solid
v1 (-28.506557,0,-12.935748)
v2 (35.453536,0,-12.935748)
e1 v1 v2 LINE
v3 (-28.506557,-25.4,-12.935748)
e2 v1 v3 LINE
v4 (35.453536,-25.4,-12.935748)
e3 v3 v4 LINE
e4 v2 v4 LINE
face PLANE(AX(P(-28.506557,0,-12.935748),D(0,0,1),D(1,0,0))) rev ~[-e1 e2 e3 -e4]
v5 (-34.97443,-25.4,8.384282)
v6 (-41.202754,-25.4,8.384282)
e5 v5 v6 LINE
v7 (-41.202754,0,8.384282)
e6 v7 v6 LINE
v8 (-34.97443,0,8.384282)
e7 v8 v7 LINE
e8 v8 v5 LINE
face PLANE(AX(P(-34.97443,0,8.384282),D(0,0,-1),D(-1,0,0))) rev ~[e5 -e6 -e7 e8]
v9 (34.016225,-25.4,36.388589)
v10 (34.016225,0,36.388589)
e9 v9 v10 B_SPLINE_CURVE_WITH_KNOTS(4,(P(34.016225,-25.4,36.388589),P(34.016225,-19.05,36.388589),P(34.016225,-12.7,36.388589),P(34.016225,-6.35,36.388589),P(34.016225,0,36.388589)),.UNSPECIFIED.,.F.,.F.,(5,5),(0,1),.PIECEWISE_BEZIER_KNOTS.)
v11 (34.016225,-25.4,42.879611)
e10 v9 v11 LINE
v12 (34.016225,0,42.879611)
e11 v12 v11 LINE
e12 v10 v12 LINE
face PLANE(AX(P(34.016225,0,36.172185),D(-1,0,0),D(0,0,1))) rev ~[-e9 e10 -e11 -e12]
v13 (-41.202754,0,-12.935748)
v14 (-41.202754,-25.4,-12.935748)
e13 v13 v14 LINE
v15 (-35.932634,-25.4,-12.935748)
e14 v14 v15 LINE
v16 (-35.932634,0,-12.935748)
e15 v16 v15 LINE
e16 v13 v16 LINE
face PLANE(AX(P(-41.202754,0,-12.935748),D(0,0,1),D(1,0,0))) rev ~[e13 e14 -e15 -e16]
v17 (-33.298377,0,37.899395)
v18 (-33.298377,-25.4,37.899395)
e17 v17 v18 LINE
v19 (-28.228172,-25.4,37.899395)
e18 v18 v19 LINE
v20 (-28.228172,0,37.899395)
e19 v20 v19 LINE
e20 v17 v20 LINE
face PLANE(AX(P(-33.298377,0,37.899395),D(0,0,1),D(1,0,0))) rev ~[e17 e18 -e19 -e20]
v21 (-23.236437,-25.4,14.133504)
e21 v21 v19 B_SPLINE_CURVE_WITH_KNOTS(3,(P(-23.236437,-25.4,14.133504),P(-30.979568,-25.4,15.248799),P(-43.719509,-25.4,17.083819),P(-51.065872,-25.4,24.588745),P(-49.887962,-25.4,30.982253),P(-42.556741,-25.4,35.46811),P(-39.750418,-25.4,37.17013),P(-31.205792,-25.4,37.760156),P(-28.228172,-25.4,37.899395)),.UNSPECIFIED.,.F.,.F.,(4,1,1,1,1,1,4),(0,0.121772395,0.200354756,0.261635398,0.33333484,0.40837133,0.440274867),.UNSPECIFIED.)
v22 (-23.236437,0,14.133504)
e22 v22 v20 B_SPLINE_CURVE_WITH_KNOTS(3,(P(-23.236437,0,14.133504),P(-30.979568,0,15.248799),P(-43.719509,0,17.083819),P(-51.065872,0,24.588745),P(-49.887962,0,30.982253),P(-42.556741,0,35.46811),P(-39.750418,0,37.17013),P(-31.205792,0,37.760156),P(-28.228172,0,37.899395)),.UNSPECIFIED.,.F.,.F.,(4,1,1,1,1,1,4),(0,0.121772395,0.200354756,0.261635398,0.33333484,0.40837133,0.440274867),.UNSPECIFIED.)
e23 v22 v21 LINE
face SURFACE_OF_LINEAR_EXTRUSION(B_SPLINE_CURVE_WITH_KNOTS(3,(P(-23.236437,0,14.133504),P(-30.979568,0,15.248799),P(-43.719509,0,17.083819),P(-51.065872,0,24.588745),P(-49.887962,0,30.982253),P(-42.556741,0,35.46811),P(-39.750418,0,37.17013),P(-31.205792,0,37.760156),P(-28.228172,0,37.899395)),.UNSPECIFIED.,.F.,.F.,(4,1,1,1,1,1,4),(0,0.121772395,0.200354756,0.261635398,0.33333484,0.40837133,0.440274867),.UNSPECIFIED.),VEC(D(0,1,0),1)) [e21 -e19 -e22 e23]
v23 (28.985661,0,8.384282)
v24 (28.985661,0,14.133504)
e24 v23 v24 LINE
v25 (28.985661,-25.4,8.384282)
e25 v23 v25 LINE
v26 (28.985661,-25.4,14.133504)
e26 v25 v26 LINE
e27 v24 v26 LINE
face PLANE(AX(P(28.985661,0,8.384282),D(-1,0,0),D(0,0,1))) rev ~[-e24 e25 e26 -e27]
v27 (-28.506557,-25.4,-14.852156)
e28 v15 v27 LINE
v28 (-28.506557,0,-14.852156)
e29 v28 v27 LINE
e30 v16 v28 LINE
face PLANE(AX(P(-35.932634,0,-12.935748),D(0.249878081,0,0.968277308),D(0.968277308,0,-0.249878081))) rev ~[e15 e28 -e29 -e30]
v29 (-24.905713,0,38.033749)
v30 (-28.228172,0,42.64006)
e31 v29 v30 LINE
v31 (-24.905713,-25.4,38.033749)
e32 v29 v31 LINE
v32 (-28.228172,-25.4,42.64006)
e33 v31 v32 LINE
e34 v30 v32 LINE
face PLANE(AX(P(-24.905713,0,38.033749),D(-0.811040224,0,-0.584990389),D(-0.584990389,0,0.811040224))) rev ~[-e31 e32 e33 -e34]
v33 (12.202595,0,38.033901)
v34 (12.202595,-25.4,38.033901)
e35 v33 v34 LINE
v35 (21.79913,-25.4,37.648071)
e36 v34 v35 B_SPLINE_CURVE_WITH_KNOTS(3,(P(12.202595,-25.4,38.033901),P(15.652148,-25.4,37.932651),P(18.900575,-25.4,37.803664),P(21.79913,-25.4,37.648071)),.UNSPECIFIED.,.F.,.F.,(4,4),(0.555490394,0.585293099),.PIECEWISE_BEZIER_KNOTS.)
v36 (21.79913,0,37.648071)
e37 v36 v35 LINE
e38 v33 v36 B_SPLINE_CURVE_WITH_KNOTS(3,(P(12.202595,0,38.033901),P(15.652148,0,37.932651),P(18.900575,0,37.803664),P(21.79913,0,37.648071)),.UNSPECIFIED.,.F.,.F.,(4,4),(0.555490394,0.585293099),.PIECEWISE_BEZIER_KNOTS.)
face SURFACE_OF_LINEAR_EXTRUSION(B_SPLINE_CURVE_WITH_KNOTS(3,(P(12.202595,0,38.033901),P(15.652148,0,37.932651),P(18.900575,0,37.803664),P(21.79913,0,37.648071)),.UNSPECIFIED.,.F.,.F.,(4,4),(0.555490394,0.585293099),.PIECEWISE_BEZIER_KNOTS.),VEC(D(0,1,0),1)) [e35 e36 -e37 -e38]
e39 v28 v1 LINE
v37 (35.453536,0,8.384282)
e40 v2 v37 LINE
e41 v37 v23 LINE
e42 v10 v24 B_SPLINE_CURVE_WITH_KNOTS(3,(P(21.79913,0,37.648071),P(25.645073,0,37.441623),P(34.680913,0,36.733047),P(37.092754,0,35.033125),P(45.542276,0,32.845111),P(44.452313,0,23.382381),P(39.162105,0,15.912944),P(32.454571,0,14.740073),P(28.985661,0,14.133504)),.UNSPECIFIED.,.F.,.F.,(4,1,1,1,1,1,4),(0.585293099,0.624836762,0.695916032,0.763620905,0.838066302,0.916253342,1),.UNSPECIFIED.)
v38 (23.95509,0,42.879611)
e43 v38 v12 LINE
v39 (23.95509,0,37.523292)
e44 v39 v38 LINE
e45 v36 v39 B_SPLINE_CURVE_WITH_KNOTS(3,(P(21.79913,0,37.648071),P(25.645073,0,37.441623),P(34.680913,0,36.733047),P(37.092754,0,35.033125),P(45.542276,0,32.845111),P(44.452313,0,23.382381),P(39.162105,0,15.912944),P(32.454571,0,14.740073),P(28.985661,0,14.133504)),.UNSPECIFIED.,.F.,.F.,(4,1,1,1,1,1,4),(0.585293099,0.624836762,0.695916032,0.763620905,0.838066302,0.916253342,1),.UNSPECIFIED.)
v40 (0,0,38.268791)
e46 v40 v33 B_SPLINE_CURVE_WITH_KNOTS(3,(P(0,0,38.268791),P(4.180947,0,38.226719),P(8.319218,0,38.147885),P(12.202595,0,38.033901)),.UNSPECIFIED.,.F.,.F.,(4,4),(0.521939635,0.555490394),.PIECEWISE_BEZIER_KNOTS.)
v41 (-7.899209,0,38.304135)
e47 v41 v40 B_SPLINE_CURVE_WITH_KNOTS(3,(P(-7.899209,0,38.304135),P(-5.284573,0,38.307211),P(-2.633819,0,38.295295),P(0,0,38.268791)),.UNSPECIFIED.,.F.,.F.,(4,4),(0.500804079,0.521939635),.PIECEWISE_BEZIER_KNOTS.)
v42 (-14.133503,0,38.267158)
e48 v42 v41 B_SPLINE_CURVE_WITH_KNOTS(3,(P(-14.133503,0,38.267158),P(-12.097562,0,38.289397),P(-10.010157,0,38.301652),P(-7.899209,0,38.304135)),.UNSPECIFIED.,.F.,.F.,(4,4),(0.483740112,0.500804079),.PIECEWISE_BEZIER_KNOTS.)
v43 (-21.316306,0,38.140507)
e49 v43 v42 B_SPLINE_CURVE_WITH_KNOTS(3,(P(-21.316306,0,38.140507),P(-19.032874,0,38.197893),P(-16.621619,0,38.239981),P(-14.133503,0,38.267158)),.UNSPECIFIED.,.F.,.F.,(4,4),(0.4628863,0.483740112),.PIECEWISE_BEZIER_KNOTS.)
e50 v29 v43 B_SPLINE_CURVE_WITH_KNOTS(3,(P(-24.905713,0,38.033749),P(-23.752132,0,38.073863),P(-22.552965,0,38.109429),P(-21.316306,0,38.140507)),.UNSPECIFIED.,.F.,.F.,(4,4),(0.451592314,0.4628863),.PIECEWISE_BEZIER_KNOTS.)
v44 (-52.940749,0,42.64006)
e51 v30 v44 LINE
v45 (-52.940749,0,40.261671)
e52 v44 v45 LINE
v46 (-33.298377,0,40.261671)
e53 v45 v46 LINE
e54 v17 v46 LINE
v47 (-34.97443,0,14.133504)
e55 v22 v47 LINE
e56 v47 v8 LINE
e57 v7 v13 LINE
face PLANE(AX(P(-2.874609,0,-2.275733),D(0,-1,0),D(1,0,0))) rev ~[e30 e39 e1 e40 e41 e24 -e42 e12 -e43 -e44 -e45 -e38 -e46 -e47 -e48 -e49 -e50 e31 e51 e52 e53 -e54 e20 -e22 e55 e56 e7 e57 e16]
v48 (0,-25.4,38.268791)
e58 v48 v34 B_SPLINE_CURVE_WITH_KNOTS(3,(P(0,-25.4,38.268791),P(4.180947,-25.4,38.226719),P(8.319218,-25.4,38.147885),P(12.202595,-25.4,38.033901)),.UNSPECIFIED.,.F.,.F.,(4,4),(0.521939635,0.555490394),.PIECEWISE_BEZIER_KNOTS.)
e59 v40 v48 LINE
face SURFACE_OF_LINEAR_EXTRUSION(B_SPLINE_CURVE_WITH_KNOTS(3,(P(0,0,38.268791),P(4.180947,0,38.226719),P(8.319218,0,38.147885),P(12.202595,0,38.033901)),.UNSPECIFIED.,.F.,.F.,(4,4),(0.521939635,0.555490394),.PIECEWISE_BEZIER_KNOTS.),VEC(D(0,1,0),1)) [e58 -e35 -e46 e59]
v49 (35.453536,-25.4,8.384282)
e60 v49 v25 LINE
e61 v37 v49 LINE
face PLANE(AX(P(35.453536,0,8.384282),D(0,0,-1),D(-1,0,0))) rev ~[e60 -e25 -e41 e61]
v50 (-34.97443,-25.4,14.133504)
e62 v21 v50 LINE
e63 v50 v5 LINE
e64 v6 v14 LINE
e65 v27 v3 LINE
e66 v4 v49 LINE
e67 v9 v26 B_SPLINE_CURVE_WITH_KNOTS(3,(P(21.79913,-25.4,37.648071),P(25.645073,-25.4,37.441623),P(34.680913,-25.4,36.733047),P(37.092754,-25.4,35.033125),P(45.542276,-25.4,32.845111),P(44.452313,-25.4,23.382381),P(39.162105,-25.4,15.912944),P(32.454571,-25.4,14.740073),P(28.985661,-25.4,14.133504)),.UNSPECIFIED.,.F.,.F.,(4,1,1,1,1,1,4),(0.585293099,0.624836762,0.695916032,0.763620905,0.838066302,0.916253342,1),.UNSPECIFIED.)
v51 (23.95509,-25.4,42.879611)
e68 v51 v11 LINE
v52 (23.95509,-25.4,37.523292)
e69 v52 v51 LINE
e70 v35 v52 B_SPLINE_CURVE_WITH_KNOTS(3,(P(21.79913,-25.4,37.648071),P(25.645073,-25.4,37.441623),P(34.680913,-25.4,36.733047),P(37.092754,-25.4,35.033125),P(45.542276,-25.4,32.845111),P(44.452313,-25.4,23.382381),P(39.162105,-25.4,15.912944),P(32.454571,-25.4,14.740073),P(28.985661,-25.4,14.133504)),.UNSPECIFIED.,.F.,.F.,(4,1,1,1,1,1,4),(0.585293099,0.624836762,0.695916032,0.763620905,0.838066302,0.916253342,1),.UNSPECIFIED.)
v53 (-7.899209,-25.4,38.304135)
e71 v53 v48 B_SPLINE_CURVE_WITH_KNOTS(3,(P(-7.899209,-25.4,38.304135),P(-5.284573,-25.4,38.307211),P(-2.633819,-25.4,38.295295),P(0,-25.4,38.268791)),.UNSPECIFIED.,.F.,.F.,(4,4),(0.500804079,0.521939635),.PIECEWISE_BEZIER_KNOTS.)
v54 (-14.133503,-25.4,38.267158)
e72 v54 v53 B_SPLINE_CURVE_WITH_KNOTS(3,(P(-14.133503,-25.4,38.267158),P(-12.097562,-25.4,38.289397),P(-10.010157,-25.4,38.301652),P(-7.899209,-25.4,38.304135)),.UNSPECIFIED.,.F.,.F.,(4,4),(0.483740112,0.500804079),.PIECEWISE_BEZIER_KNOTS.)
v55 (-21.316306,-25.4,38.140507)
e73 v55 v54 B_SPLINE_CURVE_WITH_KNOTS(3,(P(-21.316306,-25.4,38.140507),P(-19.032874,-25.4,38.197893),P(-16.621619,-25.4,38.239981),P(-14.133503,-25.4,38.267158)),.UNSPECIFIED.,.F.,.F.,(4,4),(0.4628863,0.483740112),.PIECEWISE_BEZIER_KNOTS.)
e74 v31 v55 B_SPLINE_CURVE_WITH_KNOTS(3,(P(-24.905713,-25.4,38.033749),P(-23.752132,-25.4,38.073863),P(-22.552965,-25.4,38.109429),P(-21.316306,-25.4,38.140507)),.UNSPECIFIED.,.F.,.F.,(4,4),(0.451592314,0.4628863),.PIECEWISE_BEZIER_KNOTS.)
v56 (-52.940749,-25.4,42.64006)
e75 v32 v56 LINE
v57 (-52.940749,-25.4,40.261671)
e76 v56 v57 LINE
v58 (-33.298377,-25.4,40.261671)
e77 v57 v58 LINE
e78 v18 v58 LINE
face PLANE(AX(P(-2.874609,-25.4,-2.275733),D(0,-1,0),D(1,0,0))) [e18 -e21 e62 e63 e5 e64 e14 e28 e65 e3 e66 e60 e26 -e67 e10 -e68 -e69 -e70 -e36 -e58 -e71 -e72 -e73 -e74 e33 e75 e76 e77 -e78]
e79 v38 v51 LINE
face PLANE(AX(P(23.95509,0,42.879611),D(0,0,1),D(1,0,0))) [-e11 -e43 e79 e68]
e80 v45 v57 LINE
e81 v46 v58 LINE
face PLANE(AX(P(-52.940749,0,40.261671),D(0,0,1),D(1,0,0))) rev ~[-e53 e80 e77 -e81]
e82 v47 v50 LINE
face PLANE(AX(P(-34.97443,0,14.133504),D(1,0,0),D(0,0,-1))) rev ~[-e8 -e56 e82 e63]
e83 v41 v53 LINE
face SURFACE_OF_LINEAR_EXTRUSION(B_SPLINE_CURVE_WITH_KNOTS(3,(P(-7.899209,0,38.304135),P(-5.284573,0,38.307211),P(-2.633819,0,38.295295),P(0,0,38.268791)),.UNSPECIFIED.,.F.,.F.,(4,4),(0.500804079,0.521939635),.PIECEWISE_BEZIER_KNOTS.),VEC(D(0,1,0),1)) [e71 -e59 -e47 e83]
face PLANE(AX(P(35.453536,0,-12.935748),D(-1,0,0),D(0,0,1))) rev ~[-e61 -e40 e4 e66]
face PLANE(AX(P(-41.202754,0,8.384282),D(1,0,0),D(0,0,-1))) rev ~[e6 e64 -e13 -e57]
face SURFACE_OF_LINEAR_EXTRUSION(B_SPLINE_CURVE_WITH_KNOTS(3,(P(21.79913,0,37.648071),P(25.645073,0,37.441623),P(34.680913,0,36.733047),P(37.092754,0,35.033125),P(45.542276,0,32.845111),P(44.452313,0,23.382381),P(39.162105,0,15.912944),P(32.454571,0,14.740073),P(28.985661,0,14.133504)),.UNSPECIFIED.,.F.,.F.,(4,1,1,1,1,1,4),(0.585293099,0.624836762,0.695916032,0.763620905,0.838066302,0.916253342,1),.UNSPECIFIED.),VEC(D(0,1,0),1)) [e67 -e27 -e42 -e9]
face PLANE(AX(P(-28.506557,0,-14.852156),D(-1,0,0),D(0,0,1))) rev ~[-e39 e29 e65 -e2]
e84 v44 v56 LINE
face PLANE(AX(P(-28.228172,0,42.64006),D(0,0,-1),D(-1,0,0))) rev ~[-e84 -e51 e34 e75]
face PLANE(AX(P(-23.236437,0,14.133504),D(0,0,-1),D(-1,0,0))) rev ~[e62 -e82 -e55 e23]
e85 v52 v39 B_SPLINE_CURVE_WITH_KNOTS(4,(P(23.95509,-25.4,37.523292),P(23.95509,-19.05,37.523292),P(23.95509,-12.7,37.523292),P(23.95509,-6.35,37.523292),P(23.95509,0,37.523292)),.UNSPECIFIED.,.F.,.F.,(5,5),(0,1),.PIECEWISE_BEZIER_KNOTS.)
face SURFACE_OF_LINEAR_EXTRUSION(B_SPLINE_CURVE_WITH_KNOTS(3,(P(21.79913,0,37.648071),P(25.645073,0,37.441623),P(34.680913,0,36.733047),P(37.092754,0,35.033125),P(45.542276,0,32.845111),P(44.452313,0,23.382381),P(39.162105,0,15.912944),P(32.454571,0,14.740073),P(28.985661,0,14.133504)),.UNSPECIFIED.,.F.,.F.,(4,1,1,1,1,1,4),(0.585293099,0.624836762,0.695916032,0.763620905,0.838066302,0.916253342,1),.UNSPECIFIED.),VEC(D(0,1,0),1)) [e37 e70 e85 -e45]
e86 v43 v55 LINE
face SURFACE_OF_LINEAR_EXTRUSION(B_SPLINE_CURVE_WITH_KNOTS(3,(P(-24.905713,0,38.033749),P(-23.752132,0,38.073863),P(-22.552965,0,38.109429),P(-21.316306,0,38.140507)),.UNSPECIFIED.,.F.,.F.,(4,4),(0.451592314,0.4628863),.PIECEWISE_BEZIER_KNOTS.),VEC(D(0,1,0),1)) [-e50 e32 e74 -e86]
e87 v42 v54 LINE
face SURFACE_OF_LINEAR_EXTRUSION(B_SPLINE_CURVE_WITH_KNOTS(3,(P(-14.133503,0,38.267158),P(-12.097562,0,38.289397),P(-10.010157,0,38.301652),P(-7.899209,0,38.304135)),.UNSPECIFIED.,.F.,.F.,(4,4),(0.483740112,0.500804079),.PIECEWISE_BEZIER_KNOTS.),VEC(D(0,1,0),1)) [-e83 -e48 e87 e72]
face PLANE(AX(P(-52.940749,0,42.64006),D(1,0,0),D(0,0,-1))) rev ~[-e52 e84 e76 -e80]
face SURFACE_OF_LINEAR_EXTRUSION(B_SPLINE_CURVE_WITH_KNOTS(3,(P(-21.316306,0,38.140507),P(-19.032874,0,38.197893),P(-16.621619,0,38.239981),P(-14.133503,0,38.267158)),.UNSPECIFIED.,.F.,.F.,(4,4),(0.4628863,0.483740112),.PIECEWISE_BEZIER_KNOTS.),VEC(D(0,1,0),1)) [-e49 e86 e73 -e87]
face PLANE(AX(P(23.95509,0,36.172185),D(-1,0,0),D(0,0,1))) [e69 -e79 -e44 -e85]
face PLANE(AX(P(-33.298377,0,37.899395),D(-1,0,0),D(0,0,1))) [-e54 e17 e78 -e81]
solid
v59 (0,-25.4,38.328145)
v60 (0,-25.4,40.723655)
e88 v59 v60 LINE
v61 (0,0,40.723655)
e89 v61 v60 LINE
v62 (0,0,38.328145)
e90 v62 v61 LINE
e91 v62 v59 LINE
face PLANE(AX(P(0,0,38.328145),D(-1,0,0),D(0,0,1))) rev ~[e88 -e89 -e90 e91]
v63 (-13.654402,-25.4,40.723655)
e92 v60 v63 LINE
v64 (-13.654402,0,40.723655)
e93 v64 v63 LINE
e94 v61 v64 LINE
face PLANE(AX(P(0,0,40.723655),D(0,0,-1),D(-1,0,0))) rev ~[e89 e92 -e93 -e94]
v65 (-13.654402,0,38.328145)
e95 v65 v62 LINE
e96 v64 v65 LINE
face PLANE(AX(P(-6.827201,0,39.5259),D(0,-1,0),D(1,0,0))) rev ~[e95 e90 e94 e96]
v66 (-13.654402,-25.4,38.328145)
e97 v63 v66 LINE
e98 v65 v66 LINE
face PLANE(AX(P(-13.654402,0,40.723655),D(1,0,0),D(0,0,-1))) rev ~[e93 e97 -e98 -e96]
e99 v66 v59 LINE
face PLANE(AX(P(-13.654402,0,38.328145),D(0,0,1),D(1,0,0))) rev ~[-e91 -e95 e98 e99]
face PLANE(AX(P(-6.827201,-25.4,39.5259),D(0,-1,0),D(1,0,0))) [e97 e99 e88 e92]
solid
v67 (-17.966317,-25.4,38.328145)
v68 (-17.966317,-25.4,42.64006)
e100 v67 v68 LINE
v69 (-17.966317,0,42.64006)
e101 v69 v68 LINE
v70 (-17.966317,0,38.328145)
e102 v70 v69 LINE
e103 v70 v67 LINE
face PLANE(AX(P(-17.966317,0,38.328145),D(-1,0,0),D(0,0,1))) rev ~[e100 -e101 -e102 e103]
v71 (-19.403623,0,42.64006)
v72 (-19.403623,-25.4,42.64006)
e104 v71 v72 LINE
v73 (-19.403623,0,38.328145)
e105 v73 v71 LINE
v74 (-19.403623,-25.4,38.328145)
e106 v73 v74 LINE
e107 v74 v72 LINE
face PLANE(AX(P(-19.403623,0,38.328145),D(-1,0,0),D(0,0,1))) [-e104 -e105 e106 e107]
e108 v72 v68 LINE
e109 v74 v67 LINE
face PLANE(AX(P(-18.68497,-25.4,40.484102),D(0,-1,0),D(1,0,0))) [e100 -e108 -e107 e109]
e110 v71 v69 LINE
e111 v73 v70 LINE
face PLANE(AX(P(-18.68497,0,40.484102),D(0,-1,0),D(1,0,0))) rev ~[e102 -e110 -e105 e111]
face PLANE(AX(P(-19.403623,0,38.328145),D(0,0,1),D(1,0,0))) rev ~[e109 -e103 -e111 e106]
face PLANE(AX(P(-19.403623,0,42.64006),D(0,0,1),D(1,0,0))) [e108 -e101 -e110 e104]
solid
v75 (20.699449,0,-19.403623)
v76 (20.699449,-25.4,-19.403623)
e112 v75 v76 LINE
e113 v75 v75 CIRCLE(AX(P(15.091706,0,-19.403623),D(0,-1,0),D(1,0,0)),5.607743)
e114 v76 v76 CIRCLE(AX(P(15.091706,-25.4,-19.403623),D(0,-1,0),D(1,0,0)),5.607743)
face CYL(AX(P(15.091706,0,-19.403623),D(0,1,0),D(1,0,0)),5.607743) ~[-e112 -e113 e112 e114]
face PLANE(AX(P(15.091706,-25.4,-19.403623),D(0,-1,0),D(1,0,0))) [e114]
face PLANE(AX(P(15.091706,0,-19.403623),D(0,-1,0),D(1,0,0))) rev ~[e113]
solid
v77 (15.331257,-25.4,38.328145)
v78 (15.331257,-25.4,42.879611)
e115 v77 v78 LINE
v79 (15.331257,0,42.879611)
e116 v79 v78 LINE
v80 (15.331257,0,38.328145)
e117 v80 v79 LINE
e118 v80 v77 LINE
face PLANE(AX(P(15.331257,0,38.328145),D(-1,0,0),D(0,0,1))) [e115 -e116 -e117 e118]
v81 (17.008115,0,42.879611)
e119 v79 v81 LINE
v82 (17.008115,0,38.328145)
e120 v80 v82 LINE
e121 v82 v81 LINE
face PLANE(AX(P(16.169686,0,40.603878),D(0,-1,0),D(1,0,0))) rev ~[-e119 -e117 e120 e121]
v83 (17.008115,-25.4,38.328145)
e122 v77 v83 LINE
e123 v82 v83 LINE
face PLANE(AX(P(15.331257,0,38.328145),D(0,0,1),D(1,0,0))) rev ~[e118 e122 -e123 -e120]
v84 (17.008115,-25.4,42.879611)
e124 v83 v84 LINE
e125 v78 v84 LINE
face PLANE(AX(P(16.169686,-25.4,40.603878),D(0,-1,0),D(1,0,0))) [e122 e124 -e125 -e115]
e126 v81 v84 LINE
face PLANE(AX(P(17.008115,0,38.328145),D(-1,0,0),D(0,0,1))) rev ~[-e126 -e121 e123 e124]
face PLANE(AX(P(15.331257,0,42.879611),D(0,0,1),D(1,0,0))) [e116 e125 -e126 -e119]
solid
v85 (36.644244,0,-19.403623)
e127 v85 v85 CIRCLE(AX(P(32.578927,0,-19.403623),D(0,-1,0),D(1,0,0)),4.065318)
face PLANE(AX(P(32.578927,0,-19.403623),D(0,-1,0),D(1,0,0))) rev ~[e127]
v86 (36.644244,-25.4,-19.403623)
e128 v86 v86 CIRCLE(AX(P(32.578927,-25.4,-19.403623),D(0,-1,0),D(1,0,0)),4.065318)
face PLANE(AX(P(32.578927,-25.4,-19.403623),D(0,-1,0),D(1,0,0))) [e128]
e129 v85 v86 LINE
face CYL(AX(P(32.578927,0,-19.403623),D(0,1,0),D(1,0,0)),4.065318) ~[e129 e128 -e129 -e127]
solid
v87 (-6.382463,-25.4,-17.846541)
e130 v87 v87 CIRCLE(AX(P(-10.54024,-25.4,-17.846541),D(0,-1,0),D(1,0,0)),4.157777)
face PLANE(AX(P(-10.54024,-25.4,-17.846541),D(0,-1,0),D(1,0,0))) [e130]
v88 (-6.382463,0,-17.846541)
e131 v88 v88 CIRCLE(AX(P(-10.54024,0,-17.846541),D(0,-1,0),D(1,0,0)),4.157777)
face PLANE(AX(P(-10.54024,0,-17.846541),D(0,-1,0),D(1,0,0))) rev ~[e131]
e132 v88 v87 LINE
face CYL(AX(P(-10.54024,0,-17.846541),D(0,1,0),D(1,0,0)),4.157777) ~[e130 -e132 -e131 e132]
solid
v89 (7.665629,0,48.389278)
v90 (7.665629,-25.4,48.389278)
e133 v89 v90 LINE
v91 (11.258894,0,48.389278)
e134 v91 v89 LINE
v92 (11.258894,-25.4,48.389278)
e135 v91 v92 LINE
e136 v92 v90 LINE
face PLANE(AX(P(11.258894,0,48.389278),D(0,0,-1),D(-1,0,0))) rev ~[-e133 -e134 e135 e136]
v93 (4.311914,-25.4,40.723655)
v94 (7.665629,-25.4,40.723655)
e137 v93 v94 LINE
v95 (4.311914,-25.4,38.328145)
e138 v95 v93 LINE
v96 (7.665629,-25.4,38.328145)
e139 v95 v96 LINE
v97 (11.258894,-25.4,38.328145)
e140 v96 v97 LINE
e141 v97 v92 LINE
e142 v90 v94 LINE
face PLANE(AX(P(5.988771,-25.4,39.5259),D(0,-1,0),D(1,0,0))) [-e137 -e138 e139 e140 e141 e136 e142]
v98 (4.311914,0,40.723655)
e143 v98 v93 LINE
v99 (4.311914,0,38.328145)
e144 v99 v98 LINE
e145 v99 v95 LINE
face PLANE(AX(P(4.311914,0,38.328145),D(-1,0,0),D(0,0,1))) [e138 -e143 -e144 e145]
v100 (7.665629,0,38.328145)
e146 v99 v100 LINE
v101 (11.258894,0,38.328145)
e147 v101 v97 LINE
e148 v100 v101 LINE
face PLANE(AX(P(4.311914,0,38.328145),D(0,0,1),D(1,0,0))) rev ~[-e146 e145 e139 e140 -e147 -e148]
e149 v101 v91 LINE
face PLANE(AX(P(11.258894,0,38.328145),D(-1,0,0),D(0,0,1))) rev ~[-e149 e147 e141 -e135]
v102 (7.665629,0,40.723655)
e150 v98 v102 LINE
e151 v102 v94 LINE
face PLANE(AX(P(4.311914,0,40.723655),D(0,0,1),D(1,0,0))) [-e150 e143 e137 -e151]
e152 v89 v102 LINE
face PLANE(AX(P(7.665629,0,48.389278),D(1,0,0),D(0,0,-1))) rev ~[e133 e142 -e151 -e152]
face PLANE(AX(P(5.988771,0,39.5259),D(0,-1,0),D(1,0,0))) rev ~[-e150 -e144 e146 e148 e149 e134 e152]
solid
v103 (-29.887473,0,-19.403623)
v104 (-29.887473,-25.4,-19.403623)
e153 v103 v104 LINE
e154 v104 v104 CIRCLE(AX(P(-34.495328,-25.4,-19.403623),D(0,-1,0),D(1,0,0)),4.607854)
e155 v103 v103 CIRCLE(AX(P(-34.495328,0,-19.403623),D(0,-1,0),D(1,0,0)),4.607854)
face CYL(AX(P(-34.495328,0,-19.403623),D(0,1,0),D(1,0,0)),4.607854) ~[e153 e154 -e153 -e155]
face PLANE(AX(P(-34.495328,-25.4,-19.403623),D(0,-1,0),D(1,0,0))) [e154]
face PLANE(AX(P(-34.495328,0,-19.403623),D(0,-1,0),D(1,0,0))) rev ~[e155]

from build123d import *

# Parameters (mm, degrees)
F0_W     = 5.0702048653
F0_H     = 2.3622762329
F1_DEPTH = 25.4
F0_R     = 4.6078543136
F0_R_2   = 4.1577773218
F0_R_3   = 5.6077425758
F0_R_4   = 4.0653177371
F3_DEPTH = 25.4
F2_W     = 1.4373064041
F2_H     = 4.3119154871
F2_W_2   = 3.3537149429
F2_H_2   = 2.3955106735
F2_W_3   = 10.0611355156
F2_H_3   = 6.7074261606
F2_W_4   = 1.6768574715
F2_H_4   = 4.5514665544


with BuildPart() as f1:
    # F0 (on Front) → F1 (new body)
    with BuildSketch(Plane.XZ):
        Polygon((28.9856605232, -12.9357483238), (35.4535356164, -12.9357483238), (35.4535356164, 8.3842817694), (28.9856605232, 8.3842817694), (-34.9744297564, 8.3842817694), (-41.2027537823, 8.3842817694), (-41.2027537823, -12.9357483238), (-35.9326340258, -12.9357483238), (-28.5065565258, -12.9357483238), (-14.6126048639, -12.9357483238), (-6.4678736962, -12.9357483238), (9.8215863109, -12.9357483238), (19.4036252797, -12.9357483238), align=None)
        Polygon((-34.9744297564, 8.3842817694), (28.9856605232, 8.3842817694), (28.9856605232, 14.1335036606), (-23.2364367694, 14.1335036606), (-34.9744297564, 14.1335036606), align=None)
        with BuildLine():
            Line((-23.2364367694, 14.1335036606), (28.9856605232, 14.1335036606))
            add(Edge.make_bspline(
                [(21.7991303653, 37.6480714586), (25.6450727863, 37.4416232789), (34.6809133054, 36.7330473424), (37.0927539509, 35.0331252242), (45.5422763301, 32.8451114125), (44.452312866, 23.3823811536), (39.1621048566, 15.9129440703), (32.4545711571, 14.7400730632), (28.9856605232, 14.1335036606)],
                knots=[0.585293099, 0.585293099, 0.585293099, 0.585293099, 0.6248367621, 0.6959160319, 0.7636209053, 0.8380663016, 0.9162533423, 1, 1, 1, 1], degree=3))
            add(Edge.make_bspline(
                [(12.2025949201, 38.0339011156), (15.6521480295, 37.9326505565), (18.9005752843, 37.803664381), (21.7991303653, 37.6480714586)],
                knots=[0.5554903944, 0.5554903944, 0.5554903944, 0.5554903944, 0.585293099, 0.585293099, 0.585293099, 0.585293099], degree=3))
            add(Edge.make_bspline(
                [(0, 38.2687912792), (4.1809466223, 38.2267187557), (8.3192182558, 38.1478851726), (12.2025949201, 38.0339011156)],
                knots=[0.5219396348, 0.5219396348, 0.5219396348, 0.5219396348, 0.5554903944, 0.5554903944, 0.5554903944, 0.5554903944], degree=3))
            add(Edge.make_bspline(
                [(-7.8992090494, 38.3041348545), (-5.2845734446, 38.3072105896), (-2.6338190113, 38.2952951843), (0, 38.2687912792)],
                knots=[0.5008040794, 0.5008040794, 0.5008040794, 0.5008040794, 0.5219396348, 0.5219396348, 0.5219396348, 0.5219396348], degree=3))
            add(Edge.make_bspline(
                [(-14.1335027292, 38.2671583871), (-12.0975615779, 38.289396776), (-10.0101569366, 38.3016516341), (-7.8992090494, 38.3041348545)],
                knots=[0.4837401124, 0.4837401124, 0.4837401124, 0.4837401124, 0.5008040794, 0.5008040794, 0.5008040794, 0.5008040794], degree=3))
            add(Edge.make_bspline(
                [(-21.316305856, 38.1405074727), (-19.0328736954, 38.1978928782), (-16.621619078, 38.2399809321), (-14.1335027292, 38.2671583871)],
                knots=[0.4628862997, 0.4628862997, 0.4628862997, 0.4628862997, 0.4837401124, 0.4837401124, 0.4837401124, 0.4837401124], degree=3))
            add(Edge.make_bspline(
                [(-24.9057131658, 38.0337493601), (-23.7521320973, 38.0738631863), (-22.5529646355, 38.1094287454), (-21.316305856, 38.1405074727)],
                knots=[0.4515923138, 0.4515923138, 0.4515923138, 0.4515923138, 0.4628862997, 0.4628862997, 0.4628862997, 0.4628862997], degree=3))
            add(Edge.make_bspline(
                [(-28.228171762, 37.8993945294), (-27.1718919643, 37.9487878685), (-26.0616905562, 37.9935522058), (-24.9057131658, 38.0337493601)],
                knots=[0.4402748671, 0.4402748671, 0.4402748671, 0.4402748671, 0.4515923138, 0.4515923138, 0.4515923138, 0.4515923138], degree=3))
            add(Edge.make_bspline(
                [(-23.2364367694, 14.1335036606), (-30.9795679414, 15.2487990388), (-43.7195091698, 17.0838186524), (-51.06587186, 24.5887448025), (-49.8879616394, 30.9822534776), (-42.5567409599, 35.4681098428), (-39.7504179111, 37.1701302775), (-31.2057923008, 37.7601562125), (-28.228171762, 37.8993945294)],
                knots=[0, 0, 0, 0, 0.1217723951, 0.2003547561, 0.2616353983, 0.3333348397, 0.4083713298, 0.4402748671, 0.4402748671, 0.4402748671, 0.4402748671], degree=3))
        make_face()
        with BuildLine():
            Line((-28.228171762, 40.2616707623), (-28.228171762, 37.8993945294))
            add(Edge.make_bspline(
                [(-28.228171762, 37.8993945294), (-27.1718919643, 37.9487878685), (-26.0616905562, 37.9935522058), (-24.9057131658, 38.0337493601)],
                knots=[0.4402748671, 0.4402748671, 0.4402748671, 0.4402748671, 0.4515923138, 0.4515923138, 0.4515923138, 0.4515923138], degree=3))
            Line((-24.9057131658, 38.0337493601), (-28.228171762, 40.2616707623))
        make_face()
        with Locations((-30.7632741947, 39.0805326458)):
            Rectangle(F0_W, F0_H)
        Polygon((-28.5065565258, -14.8521559313), (-28.5065565258, -12.9357483238), (-35.9326340258, -12.9357483238), align=None)
        Polygon((-28.228171762, 40.2616707623), (-24.9057131658, 38.0337493601), (-28.228171762, 42.6400601864), align=None)
        Polygon((-33.2983766273, 40.2616707623), (-28.228171762, 40.2616707623), (-28.228171762, 42.6400601864), (-52.940748632, 42.6400601864), (-52.940748632, 40.2616707623), align=None)
    extrude(amount=F1_DEPTH)

    # F2 (on Front) → F3, piece 4 (join)
    with BuildSketch(Plane.XZ):
        with Locations((28.9856577292, 39.5258981735)):
            Rectangle(F2_W_3, F2_H_3)
    extrude(amount=F3_DEPTH)


with BuildPart() as f1b:
    # F0 (on Front) → F1, piece 2 (new body)
    with BuildSketch(Plane.XZ):
        with Locations((-34.4953276217, -19.403623417)):
            Circle(F0_R)
    extrude(amount=F1_DEPTH)


with BuildPart() as f1c:
    # F0 (on Front) → F1, piece 3 (new body)
    with BuildSketch(Plane.XZ):
        with Locations((-10.5402404442, -17.8465414792)):
            Circle(F0_R_2)
    extrude(amount=F1_DEPTH)


with BuildPart() as f1d:
    # F0 (on Front) → F1, piece 4 (new body)
    with BuildSketch(Plane.XZ):
        with Locations((15.0917060673, -19.403623417)):
            Circle(F0_R_3)
    extrude(amount=F1_DEPTH)


with BuildPart() as f1e:
    # F0 (on Front) → F1, piece 5 (new body)
    with BuildSketch(Plane.XZ):
        with Locations((32.5789265335, -19.403623417)):
            Circle(F0_R_4)
    extrude(amount=F1_DEPTH)


with BuildPart() as f3:
    # F2 (on Front) → F3 (new body)
    with BuildSketch(Plane.XZ):
        Polygon((-13.6544015259, 38.3281446993), (-12.2170960531, 38.3281446993), (0, 38.3281446993), (0, 40.7236553729), (-13.6544015259, 40.7236553729), align=None)
    extrude(amount=F3_DEPTH)


with BuildPart() as f3b:
    # F2 (on Front) → F3, piece 2 (new body)
    with BuildSketch(Plane.XZ):
        with Locations((-18.684970215, 40.4841024429)):
            Rectangle(F2_W, F2_H)
    extrude(amount=F3_DEPTH)


with BuildPart() as f3c:
    # F2 (on Front) → F3, piece 3 (new body)
    with BuildSketch(Plane.XZ):
        with Locations((5.9887710959, 39.5259000361)):
            Rectangle(F2_W_2, F2_H_2)
        Polygon((7.6656285673, 40.7236553729), (7.6656285673, 38.3281446993), (11.2588936463, 38.3281446993), (11.2588936463, 48.3892783523), (7.6656285673, 48.3892783523), align=None)
    extrude(amount=F3_DEPTH)


with BuildPart() as f3d:
    # F2 (on Front) → F3, piece 5 (new body)
    with BuildSketch(Plane.XZ):
        with Locations((16.1696858704, 40.6038779765)):
            Rectangle(F2_W_4, F2_H_4)
    extrude(amount=F3_DEPTH)


solid = Compound([f1.part, f1b.part, f1c.part, f1d.part, f1e.part, f3.part, f3b.part, f3c.part, f3d.part])
